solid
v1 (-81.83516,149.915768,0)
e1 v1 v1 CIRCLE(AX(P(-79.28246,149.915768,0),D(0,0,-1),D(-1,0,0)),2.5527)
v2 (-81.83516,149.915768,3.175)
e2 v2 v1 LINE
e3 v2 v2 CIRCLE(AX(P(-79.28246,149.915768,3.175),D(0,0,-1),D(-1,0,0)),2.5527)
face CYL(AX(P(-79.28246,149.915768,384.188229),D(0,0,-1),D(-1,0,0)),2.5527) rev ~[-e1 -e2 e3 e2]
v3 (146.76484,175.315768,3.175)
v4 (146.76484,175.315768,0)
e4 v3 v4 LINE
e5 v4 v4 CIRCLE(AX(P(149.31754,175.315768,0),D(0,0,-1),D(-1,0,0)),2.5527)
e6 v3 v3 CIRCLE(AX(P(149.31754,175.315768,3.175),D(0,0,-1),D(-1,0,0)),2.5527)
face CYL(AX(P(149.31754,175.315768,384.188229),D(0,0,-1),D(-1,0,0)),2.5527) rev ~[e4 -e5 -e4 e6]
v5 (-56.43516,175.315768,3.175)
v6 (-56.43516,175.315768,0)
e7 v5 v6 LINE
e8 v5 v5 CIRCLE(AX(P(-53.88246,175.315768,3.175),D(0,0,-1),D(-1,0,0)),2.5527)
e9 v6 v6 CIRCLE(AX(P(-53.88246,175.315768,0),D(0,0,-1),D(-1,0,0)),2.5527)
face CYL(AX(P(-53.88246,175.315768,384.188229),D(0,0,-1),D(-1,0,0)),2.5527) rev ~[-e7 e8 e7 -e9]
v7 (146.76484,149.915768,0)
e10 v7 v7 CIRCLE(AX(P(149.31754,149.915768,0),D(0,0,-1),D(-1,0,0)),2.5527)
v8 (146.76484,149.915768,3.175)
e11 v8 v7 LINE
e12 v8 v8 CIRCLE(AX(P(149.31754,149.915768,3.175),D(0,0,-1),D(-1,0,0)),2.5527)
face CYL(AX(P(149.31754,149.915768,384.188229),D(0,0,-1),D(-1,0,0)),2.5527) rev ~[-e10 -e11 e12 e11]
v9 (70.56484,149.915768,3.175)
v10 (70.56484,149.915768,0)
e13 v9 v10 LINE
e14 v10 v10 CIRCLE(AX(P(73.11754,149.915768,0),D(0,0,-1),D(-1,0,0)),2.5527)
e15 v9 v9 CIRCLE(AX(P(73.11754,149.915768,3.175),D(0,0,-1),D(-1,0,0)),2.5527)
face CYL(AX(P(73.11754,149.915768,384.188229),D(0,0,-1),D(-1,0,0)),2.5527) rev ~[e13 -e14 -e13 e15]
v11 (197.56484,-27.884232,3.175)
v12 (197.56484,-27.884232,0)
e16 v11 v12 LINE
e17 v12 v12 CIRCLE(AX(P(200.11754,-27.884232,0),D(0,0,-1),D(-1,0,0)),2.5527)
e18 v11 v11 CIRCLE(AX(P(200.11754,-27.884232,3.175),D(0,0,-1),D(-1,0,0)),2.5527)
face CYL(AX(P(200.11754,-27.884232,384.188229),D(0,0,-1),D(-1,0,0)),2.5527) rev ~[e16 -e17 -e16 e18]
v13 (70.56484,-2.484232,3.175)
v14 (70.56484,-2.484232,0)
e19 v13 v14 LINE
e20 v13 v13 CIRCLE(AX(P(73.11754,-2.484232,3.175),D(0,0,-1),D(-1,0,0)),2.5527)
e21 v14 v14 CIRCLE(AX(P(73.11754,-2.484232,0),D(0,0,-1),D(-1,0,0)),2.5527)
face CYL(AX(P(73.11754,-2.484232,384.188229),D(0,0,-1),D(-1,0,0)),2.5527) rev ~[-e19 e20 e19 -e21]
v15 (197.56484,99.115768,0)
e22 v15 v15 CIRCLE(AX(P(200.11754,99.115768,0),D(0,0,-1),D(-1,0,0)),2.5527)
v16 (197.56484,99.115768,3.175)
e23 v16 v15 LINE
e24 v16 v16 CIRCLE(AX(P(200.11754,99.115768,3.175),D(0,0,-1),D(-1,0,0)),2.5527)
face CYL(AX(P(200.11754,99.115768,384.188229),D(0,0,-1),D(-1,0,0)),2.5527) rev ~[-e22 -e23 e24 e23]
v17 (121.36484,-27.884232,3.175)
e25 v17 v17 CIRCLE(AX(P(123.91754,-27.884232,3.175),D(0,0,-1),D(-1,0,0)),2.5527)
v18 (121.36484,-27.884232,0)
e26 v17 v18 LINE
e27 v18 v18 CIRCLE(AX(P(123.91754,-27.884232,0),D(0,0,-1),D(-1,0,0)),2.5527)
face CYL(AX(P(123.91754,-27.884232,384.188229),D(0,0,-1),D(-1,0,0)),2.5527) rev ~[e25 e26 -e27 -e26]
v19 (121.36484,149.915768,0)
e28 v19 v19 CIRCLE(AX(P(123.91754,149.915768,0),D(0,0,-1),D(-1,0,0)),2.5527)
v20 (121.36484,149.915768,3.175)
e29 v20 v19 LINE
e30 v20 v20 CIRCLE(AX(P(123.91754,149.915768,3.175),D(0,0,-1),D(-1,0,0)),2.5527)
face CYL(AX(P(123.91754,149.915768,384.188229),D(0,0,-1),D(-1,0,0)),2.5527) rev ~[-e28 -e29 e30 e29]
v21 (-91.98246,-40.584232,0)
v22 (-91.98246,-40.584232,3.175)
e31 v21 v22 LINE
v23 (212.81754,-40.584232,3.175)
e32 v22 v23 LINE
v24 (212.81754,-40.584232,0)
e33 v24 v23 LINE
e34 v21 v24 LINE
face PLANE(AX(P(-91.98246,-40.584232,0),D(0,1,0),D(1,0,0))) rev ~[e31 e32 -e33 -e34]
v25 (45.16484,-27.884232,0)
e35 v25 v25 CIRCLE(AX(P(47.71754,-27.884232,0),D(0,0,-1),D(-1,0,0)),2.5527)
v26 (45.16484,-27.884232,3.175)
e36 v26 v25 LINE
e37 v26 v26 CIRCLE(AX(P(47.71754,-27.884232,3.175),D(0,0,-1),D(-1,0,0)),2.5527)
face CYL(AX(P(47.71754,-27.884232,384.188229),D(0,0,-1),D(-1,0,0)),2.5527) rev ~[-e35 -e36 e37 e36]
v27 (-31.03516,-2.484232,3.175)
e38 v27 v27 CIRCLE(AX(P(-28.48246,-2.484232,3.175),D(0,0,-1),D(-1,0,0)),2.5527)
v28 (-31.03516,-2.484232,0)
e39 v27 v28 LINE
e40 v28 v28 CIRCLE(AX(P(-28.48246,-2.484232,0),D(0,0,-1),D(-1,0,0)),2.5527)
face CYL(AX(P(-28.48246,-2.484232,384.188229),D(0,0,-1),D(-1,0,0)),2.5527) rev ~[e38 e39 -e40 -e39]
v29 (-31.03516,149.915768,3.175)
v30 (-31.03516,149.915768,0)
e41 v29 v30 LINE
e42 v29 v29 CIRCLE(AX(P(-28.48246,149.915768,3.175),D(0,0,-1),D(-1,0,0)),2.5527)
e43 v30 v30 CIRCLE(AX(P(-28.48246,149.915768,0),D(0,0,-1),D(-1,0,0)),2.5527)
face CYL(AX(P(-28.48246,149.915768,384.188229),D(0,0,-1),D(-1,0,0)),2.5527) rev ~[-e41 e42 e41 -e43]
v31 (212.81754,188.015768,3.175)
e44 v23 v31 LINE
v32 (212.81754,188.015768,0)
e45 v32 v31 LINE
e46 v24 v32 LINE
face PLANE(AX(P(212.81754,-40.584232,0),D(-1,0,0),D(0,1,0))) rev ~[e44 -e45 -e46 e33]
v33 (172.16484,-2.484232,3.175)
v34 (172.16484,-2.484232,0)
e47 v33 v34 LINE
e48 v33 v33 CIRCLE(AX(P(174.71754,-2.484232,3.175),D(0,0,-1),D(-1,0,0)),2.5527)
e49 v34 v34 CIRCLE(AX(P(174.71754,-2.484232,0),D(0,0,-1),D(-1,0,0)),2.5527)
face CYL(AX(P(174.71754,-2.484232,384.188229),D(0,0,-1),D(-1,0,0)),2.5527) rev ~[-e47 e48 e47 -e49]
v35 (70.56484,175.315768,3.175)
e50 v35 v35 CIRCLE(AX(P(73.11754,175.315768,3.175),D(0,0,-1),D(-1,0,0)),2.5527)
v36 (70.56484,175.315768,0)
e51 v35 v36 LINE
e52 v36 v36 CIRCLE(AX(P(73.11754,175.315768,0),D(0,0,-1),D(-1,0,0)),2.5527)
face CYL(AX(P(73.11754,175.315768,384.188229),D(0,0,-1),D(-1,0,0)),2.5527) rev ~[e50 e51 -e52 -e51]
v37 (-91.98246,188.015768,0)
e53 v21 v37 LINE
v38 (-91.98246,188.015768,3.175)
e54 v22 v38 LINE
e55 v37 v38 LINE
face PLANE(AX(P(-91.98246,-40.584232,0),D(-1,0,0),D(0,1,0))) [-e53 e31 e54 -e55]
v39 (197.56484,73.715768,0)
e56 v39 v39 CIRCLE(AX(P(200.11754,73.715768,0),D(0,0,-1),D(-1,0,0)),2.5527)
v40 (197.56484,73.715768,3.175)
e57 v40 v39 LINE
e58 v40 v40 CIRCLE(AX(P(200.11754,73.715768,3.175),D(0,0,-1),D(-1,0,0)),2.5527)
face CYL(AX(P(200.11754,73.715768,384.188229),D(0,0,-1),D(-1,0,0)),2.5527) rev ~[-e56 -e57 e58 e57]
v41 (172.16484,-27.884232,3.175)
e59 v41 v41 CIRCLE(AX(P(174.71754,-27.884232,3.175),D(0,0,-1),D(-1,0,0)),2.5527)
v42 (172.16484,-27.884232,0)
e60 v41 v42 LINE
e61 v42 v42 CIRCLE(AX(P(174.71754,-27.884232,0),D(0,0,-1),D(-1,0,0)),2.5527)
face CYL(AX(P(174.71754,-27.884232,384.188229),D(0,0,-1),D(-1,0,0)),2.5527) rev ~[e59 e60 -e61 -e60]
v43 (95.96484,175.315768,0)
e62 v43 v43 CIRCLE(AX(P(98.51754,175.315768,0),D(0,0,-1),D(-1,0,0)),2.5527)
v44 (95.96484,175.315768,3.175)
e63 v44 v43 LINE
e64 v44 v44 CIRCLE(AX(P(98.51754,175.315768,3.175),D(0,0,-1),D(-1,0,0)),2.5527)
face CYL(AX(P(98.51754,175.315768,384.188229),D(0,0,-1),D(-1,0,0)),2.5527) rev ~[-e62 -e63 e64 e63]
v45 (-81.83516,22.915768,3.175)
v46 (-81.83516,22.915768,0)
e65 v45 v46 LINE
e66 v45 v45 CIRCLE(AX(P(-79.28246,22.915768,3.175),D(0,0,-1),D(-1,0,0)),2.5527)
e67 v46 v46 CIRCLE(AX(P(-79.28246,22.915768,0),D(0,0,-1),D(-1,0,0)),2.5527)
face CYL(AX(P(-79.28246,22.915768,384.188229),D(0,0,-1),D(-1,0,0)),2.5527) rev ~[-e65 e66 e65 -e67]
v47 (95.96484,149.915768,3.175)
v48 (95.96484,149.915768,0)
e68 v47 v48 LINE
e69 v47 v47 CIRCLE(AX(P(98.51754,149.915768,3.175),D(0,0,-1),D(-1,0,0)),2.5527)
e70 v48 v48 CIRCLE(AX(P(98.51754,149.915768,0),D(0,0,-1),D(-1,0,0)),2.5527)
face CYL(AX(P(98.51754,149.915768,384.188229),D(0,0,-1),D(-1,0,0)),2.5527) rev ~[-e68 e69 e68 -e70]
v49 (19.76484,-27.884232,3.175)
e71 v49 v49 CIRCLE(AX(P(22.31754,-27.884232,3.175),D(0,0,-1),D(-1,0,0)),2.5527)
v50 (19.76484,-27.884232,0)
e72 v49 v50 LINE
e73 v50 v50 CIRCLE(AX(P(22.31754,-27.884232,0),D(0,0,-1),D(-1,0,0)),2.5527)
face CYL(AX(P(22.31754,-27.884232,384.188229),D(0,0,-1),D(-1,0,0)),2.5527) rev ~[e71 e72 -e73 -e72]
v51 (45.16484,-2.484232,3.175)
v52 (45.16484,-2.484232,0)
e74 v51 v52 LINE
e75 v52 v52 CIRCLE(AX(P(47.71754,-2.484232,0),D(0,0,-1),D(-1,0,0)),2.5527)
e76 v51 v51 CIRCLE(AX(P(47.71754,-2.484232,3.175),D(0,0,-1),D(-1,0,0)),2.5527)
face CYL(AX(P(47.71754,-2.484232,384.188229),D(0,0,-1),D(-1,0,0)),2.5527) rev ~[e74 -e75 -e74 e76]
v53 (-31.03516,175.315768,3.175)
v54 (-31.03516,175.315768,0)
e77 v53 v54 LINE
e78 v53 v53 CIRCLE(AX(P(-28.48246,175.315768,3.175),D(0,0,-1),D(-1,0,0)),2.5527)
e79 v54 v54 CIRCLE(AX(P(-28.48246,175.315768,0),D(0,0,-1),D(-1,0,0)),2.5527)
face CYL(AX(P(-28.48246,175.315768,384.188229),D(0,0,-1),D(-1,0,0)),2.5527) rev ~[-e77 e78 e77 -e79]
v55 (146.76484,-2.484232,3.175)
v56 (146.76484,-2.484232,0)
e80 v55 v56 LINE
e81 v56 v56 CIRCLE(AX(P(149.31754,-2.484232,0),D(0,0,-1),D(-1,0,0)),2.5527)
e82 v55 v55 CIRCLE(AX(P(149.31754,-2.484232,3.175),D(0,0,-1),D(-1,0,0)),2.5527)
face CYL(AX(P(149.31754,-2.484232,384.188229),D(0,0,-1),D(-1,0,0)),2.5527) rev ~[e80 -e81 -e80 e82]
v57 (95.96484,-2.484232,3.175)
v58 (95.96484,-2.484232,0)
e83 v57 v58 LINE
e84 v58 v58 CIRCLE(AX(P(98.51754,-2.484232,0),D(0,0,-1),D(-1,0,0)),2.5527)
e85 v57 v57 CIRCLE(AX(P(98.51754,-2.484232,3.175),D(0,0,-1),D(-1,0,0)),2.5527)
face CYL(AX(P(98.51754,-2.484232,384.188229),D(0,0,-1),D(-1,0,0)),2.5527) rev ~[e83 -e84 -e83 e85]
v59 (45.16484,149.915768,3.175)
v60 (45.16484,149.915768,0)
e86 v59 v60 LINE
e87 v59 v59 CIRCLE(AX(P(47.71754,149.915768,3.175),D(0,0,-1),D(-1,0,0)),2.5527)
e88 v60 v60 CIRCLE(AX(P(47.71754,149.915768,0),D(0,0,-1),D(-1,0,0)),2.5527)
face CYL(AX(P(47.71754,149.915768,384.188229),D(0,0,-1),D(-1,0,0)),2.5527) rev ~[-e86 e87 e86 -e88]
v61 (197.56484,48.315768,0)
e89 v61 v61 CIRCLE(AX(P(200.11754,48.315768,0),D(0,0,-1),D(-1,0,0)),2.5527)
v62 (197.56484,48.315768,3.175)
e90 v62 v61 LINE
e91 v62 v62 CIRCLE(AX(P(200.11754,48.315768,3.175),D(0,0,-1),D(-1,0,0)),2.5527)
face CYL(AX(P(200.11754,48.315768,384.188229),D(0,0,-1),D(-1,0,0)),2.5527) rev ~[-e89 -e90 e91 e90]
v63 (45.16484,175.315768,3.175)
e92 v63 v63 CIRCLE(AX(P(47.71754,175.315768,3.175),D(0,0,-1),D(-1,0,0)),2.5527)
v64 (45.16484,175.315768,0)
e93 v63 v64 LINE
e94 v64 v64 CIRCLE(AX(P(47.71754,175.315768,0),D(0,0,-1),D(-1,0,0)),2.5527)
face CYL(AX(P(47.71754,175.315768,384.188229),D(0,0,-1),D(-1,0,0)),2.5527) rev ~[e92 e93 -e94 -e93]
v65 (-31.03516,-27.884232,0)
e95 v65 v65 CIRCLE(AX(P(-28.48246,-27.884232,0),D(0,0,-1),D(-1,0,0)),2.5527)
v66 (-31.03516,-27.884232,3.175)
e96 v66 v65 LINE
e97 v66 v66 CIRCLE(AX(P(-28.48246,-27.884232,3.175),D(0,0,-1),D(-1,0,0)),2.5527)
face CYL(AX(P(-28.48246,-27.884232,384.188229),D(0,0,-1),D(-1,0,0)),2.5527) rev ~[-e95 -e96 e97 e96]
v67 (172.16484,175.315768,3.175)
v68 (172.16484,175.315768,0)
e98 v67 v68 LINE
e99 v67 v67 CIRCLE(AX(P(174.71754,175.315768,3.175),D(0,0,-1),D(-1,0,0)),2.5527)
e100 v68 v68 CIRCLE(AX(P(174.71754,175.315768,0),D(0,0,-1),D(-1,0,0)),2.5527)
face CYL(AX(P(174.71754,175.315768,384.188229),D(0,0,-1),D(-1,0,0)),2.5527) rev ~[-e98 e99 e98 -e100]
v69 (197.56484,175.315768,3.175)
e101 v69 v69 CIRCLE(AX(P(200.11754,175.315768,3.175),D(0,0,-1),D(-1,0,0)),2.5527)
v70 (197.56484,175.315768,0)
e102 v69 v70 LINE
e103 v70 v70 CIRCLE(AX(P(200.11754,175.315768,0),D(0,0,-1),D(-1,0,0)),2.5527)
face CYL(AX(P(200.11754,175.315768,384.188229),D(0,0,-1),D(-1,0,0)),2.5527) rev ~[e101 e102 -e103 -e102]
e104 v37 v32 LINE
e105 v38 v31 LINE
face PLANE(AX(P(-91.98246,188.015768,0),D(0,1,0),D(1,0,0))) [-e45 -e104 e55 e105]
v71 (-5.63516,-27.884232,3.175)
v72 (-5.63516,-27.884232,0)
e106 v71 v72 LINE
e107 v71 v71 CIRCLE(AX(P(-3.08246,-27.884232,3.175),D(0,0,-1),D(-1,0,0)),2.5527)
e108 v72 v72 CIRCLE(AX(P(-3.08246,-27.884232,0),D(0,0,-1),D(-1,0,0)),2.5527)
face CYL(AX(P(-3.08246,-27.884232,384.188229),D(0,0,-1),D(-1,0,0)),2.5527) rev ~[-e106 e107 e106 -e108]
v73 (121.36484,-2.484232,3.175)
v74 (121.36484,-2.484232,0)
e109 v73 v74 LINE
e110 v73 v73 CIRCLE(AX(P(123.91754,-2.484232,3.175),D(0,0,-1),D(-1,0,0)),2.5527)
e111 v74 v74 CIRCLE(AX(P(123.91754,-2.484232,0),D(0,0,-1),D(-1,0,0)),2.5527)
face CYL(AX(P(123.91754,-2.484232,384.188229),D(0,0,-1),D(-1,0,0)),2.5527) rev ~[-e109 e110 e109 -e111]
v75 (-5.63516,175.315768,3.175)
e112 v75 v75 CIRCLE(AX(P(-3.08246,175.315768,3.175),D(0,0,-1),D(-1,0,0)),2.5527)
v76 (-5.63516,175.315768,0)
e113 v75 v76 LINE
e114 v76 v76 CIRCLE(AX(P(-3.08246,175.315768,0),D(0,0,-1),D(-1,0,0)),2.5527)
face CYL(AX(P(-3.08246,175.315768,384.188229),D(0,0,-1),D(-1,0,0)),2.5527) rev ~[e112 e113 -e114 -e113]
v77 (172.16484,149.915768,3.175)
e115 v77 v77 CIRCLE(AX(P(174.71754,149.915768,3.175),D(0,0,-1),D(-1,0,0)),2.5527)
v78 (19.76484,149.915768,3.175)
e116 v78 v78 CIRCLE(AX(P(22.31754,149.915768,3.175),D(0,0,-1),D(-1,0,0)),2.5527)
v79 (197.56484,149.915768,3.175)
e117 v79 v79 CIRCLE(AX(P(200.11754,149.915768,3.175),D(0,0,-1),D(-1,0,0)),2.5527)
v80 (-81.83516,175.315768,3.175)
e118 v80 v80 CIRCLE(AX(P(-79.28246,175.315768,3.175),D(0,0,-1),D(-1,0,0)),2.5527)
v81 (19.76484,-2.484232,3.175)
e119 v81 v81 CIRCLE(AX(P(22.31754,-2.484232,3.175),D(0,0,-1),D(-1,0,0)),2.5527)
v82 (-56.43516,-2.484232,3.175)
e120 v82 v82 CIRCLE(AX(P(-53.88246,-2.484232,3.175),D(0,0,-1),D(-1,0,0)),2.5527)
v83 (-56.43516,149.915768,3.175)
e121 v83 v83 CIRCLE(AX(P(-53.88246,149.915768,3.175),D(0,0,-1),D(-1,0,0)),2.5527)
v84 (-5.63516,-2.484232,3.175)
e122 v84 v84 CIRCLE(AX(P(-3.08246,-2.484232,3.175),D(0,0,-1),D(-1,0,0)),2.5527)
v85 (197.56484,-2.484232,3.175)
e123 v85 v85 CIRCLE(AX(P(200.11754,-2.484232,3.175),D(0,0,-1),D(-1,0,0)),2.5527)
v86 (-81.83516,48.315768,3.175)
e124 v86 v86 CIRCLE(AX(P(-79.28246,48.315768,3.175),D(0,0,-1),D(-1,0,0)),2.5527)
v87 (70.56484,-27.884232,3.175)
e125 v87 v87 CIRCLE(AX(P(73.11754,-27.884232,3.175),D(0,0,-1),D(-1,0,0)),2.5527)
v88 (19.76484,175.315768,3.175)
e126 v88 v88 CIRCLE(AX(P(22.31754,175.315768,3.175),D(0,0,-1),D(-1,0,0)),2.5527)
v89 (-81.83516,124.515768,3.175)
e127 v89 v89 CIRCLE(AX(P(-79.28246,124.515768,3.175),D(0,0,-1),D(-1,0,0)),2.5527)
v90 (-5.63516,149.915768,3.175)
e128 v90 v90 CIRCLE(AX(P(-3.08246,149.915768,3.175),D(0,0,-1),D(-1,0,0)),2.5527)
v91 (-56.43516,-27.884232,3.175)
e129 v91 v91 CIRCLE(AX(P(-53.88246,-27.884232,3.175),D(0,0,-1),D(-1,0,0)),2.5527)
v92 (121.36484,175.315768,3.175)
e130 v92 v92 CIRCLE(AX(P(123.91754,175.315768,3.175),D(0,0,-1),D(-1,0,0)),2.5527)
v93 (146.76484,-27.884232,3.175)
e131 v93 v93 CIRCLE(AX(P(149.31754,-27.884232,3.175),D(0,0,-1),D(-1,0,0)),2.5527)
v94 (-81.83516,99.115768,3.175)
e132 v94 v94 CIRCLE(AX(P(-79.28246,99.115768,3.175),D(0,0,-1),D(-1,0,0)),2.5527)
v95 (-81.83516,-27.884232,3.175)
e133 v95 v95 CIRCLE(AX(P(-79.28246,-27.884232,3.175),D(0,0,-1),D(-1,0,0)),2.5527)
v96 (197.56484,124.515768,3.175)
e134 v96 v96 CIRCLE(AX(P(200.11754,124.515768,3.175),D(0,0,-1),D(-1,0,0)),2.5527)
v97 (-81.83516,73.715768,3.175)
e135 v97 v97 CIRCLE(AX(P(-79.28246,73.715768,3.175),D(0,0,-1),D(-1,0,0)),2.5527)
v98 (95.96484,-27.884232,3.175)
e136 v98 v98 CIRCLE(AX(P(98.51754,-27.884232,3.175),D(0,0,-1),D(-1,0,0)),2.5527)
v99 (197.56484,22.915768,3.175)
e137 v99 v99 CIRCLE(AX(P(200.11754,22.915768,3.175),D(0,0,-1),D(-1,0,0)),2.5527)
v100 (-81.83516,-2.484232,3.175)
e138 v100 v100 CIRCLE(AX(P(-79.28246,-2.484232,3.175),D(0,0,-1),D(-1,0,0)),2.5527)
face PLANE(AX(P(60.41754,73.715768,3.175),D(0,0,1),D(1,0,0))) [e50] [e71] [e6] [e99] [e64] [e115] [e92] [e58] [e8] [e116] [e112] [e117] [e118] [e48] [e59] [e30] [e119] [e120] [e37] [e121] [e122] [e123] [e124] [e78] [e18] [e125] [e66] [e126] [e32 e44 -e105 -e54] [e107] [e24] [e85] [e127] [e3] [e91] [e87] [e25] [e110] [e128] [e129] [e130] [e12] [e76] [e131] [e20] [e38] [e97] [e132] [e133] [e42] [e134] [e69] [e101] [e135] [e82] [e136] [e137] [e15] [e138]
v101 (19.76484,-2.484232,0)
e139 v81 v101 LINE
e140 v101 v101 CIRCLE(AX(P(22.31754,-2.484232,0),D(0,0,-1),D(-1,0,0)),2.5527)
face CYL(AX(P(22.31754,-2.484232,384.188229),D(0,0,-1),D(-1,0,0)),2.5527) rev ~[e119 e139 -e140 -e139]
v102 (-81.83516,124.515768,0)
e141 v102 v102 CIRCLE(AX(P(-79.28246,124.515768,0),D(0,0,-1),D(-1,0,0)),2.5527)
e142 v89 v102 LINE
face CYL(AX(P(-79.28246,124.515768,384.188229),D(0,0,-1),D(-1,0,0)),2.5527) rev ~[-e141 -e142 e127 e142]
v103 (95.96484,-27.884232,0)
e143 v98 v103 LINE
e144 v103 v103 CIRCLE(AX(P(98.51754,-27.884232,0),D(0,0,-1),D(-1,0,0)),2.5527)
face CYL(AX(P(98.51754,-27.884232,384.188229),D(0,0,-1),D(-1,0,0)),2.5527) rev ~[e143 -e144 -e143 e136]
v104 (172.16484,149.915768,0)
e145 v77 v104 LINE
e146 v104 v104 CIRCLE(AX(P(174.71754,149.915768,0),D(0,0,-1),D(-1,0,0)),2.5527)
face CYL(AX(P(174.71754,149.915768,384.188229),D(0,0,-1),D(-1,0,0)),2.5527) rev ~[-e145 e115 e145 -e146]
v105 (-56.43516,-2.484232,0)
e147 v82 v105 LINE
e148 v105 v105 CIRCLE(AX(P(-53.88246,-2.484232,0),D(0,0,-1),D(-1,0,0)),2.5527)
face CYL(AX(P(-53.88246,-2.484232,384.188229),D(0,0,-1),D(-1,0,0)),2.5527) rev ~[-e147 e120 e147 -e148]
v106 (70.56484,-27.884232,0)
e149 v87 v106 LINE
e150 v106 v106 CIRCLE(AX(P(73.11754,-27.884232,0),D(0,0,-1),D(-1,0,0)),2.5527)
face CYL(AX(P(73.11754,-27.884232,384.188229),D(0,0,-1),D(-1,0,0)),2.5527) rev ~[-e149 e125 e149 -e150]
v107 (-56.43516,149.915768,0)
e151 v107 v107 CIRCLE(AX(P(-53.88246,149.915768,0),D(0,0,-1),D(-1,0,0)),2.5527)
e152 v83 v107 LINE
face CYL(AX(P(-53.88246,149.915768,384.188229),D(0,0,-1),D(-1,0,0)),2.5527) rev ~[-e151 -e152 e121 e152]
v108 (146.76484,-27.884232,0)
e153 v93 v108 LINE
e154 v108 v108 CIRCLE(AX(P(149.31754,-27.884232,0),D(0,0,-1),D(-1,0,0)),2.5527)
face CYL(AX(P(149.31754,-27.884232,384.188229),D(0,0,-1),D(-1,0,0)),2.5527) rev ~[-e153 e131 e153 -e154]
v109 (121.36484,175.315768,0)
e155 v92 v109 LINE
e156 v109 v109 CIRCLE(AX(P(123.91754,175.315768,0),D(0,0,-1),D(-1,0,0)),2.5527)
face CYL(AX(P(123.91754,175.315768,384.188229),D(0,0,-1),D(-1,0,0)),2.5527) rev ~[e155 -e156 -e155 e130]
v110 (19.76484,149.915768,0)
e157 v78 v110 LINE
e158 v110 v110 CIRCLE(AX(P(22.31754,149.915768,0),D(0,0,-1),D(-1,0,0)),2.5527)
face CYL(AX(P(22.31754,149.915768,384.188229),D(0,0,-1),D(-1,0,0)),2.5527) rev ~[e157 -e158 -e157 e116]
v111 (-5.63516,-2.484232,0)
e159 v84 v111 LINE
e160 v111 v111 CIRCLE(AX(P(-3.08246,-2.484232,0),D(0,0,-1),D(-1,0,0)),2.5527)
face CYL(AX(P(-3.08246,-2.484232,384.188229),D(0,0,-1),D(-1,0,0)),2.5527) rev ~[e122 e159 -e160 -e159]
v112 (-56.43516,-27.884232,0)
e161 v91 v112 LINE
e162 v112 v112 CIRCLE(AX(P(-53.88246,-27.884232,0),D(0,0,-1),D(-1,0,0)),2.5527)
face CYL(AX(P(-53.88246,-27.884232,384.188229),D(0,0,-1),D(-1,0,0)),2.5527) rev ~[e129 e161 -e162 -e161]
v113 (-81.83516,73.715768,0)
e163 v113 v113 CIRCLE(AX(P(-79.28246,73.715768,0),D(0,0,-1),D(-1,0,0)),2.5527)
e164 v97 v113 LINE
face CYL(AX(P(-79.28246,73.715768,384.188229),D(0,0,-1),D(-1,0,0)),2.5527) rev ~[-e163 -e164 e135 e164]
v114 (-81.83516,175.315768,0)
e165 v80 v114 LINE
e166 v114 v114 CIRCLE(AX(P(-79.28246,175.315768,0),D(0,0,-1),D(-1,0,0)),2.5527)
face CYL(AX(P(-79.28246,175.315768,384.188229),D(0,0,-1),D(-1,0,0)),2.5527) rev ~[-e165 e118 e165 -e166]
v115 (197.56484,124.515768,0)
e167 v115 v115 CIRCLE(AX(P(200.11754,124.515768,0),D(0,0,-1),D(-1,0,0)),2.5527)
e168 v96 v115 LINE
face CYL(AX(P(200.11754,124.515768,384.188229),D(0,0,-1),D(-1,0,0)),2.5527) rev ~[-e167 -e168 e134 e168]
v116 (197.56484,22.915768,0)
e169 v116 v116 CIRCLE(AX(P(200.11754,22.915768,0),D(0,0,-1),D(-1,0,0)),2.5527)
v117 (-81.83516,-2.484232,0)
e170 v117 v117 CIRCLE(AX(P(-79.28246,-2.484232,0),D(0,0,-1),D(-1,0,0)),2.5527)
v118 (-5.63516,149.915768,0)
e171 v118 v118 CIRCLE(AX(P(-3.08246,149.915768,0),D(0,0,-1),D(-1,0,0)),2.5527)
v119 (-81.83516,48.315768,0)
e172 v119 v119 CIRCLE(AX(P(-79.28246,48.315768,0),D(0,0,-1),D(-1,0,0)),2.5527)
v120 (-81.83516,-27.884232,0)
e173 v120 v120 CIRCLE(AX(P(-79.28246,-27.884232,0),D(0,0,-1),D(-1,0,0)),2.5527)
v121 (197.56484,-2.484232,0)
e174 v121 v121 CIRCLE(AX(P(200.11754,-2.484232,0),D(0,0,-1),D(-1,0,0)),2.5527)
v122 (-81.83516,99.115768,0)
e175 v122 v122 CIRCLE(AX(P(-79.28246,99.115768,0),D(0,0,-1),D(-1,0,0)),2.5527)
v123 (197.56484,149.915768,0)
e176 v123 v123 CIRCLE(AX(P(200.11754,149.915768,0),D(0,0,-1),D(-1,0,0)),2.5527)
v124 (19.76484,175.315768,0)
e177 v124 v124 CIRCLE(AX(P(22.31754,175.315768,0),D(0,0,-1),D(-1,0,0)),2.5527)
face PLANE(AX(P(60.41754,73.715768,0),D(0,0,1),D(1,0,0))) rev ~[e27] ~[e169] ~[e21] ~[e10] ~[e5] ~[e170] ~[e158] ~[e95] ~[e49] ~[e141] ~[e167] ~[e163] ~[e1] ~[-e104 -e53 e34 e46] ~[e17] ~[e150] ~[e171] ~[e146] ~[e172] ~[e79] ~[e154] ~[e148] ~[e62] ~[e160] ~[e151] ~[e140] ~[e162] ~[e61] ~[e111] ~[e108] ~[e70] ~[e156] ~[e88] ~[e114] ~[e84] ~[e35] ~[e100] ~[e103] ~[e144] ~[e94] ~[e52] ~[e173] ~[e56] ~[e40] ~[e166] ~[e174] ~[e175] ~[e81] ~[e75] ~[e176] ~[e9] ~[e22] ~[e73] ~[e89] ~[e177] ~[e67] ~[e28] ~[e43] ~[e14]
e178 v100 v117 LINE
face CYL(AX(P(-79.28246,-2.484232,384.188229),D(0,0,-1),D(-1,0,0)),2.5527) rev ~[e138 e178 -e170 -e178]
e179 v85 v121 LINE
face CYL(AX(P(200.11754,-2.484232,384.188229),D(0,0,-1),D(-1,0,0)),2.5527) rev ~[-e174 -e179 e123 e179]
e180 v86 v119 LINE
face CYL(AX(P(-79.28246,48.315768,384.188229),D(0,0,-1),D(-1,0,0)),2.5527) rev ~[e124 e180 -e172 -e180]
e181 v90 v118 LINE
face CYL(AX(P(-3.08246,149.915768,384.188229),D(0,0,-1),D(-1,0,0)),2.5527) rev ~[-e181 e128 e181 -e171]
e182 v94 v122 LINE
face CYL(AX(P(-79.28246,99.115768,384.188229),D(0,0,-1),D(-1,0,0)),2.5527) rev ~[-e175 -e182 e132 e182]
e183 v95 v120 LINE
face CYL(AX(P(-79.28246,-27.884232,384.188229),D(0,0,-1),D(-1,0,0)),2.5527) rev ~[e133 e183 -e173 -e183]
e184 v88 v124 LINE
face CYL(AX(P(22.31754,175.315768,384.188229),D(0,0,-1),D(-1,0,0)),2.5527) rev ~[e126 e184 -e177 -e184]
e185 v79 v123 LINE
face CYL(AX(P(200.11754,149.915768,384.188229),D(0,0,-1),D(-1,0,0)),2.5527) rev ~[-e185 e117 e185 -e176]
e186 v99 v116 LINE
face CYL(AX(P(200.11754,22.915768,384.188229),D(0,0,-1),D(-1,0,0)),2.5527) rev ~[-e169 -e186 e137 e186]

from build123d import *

# Parameters (mm, degrees)
F0_W     = 304.8
F0_H     = 228.6
F1_DEPTH = 3.175
F3_D     = 5.1054


with BuildPart() as f1:
    # F0 (on Top) → F1 (new body)
    with BuildSketch(Plane.XY):
        with Locations((60.41754, 73.715768)):
            Rectangle(F0_W, F0_H)
    extrude(amount=F1_DEPTH)

    # F3 (through all)
    with Locations(Plane.XY.offset(3.175)):
        with Locations((-28.48246, -27.884232), (98.51754, 149.915768), (-79.28246, -27.884232), (200.11754, 73.715768), (73.11754, 175.315768), (149.31754, 175.315768), (123.91754, 175.315768), (-79.28246, -2.484232), (174.71754, -2.484232), (200.11754, -2.484232), (123.91754, -2.484232), (200.11754, 48.315768), (-28.48246, 175.315768), (-3.08246, -2.484232), (200.11754, 149.915768), (73.11754, -27.884232), (200.11754, 22.915768), (22.31754, 149.915768), (-28.48246, -2.484232), (123.91754, -27.884232), (98.51754, -27.884232), (98.51754, 175.315768), (123.91754, 149.915768), (-79.28246, 175.315768), (174.71754, 149.915768), (-53.88246, 149.915768), (22.31754, -2.484232), (-79.28246, 73.715768), (149.31754, 149.915768), (-79.28246, 22.915768), (47.71754, -27.884232), (200.11754, 124.515768), (-79.28246, 99.115768), (174.71754, -27.884232), (22.31754, 175.315768), (47.71754, 149.915768), (200.11754, 175.315768), (-3.08246, 149.915768), (47.71754, -2.484232), (-53.88246, -27.884232), (149.31754, -2.484232), (73.11754, -2.484232), (22.31754, -27.884232), (-79.28246, 124.515768), (200.11754, 99.115768), (174.71754, 175.315768), (-53.88246, -2.484232), (-53.88246, 175.315768), (-79.28246, 48.315768), (200.11754, -27.884232), (98.51754, -2.484232), (-3.08246, -27.884232), (-28.48246, 149.915768), (47.71754, 175.315768), (149.31754, -27.884232), (-3.08246, 175.315768), (-79.28246, 149.915768), (73.11754, 149.915768)):
            Hole(F3_D / 2)


solid = f1.part
